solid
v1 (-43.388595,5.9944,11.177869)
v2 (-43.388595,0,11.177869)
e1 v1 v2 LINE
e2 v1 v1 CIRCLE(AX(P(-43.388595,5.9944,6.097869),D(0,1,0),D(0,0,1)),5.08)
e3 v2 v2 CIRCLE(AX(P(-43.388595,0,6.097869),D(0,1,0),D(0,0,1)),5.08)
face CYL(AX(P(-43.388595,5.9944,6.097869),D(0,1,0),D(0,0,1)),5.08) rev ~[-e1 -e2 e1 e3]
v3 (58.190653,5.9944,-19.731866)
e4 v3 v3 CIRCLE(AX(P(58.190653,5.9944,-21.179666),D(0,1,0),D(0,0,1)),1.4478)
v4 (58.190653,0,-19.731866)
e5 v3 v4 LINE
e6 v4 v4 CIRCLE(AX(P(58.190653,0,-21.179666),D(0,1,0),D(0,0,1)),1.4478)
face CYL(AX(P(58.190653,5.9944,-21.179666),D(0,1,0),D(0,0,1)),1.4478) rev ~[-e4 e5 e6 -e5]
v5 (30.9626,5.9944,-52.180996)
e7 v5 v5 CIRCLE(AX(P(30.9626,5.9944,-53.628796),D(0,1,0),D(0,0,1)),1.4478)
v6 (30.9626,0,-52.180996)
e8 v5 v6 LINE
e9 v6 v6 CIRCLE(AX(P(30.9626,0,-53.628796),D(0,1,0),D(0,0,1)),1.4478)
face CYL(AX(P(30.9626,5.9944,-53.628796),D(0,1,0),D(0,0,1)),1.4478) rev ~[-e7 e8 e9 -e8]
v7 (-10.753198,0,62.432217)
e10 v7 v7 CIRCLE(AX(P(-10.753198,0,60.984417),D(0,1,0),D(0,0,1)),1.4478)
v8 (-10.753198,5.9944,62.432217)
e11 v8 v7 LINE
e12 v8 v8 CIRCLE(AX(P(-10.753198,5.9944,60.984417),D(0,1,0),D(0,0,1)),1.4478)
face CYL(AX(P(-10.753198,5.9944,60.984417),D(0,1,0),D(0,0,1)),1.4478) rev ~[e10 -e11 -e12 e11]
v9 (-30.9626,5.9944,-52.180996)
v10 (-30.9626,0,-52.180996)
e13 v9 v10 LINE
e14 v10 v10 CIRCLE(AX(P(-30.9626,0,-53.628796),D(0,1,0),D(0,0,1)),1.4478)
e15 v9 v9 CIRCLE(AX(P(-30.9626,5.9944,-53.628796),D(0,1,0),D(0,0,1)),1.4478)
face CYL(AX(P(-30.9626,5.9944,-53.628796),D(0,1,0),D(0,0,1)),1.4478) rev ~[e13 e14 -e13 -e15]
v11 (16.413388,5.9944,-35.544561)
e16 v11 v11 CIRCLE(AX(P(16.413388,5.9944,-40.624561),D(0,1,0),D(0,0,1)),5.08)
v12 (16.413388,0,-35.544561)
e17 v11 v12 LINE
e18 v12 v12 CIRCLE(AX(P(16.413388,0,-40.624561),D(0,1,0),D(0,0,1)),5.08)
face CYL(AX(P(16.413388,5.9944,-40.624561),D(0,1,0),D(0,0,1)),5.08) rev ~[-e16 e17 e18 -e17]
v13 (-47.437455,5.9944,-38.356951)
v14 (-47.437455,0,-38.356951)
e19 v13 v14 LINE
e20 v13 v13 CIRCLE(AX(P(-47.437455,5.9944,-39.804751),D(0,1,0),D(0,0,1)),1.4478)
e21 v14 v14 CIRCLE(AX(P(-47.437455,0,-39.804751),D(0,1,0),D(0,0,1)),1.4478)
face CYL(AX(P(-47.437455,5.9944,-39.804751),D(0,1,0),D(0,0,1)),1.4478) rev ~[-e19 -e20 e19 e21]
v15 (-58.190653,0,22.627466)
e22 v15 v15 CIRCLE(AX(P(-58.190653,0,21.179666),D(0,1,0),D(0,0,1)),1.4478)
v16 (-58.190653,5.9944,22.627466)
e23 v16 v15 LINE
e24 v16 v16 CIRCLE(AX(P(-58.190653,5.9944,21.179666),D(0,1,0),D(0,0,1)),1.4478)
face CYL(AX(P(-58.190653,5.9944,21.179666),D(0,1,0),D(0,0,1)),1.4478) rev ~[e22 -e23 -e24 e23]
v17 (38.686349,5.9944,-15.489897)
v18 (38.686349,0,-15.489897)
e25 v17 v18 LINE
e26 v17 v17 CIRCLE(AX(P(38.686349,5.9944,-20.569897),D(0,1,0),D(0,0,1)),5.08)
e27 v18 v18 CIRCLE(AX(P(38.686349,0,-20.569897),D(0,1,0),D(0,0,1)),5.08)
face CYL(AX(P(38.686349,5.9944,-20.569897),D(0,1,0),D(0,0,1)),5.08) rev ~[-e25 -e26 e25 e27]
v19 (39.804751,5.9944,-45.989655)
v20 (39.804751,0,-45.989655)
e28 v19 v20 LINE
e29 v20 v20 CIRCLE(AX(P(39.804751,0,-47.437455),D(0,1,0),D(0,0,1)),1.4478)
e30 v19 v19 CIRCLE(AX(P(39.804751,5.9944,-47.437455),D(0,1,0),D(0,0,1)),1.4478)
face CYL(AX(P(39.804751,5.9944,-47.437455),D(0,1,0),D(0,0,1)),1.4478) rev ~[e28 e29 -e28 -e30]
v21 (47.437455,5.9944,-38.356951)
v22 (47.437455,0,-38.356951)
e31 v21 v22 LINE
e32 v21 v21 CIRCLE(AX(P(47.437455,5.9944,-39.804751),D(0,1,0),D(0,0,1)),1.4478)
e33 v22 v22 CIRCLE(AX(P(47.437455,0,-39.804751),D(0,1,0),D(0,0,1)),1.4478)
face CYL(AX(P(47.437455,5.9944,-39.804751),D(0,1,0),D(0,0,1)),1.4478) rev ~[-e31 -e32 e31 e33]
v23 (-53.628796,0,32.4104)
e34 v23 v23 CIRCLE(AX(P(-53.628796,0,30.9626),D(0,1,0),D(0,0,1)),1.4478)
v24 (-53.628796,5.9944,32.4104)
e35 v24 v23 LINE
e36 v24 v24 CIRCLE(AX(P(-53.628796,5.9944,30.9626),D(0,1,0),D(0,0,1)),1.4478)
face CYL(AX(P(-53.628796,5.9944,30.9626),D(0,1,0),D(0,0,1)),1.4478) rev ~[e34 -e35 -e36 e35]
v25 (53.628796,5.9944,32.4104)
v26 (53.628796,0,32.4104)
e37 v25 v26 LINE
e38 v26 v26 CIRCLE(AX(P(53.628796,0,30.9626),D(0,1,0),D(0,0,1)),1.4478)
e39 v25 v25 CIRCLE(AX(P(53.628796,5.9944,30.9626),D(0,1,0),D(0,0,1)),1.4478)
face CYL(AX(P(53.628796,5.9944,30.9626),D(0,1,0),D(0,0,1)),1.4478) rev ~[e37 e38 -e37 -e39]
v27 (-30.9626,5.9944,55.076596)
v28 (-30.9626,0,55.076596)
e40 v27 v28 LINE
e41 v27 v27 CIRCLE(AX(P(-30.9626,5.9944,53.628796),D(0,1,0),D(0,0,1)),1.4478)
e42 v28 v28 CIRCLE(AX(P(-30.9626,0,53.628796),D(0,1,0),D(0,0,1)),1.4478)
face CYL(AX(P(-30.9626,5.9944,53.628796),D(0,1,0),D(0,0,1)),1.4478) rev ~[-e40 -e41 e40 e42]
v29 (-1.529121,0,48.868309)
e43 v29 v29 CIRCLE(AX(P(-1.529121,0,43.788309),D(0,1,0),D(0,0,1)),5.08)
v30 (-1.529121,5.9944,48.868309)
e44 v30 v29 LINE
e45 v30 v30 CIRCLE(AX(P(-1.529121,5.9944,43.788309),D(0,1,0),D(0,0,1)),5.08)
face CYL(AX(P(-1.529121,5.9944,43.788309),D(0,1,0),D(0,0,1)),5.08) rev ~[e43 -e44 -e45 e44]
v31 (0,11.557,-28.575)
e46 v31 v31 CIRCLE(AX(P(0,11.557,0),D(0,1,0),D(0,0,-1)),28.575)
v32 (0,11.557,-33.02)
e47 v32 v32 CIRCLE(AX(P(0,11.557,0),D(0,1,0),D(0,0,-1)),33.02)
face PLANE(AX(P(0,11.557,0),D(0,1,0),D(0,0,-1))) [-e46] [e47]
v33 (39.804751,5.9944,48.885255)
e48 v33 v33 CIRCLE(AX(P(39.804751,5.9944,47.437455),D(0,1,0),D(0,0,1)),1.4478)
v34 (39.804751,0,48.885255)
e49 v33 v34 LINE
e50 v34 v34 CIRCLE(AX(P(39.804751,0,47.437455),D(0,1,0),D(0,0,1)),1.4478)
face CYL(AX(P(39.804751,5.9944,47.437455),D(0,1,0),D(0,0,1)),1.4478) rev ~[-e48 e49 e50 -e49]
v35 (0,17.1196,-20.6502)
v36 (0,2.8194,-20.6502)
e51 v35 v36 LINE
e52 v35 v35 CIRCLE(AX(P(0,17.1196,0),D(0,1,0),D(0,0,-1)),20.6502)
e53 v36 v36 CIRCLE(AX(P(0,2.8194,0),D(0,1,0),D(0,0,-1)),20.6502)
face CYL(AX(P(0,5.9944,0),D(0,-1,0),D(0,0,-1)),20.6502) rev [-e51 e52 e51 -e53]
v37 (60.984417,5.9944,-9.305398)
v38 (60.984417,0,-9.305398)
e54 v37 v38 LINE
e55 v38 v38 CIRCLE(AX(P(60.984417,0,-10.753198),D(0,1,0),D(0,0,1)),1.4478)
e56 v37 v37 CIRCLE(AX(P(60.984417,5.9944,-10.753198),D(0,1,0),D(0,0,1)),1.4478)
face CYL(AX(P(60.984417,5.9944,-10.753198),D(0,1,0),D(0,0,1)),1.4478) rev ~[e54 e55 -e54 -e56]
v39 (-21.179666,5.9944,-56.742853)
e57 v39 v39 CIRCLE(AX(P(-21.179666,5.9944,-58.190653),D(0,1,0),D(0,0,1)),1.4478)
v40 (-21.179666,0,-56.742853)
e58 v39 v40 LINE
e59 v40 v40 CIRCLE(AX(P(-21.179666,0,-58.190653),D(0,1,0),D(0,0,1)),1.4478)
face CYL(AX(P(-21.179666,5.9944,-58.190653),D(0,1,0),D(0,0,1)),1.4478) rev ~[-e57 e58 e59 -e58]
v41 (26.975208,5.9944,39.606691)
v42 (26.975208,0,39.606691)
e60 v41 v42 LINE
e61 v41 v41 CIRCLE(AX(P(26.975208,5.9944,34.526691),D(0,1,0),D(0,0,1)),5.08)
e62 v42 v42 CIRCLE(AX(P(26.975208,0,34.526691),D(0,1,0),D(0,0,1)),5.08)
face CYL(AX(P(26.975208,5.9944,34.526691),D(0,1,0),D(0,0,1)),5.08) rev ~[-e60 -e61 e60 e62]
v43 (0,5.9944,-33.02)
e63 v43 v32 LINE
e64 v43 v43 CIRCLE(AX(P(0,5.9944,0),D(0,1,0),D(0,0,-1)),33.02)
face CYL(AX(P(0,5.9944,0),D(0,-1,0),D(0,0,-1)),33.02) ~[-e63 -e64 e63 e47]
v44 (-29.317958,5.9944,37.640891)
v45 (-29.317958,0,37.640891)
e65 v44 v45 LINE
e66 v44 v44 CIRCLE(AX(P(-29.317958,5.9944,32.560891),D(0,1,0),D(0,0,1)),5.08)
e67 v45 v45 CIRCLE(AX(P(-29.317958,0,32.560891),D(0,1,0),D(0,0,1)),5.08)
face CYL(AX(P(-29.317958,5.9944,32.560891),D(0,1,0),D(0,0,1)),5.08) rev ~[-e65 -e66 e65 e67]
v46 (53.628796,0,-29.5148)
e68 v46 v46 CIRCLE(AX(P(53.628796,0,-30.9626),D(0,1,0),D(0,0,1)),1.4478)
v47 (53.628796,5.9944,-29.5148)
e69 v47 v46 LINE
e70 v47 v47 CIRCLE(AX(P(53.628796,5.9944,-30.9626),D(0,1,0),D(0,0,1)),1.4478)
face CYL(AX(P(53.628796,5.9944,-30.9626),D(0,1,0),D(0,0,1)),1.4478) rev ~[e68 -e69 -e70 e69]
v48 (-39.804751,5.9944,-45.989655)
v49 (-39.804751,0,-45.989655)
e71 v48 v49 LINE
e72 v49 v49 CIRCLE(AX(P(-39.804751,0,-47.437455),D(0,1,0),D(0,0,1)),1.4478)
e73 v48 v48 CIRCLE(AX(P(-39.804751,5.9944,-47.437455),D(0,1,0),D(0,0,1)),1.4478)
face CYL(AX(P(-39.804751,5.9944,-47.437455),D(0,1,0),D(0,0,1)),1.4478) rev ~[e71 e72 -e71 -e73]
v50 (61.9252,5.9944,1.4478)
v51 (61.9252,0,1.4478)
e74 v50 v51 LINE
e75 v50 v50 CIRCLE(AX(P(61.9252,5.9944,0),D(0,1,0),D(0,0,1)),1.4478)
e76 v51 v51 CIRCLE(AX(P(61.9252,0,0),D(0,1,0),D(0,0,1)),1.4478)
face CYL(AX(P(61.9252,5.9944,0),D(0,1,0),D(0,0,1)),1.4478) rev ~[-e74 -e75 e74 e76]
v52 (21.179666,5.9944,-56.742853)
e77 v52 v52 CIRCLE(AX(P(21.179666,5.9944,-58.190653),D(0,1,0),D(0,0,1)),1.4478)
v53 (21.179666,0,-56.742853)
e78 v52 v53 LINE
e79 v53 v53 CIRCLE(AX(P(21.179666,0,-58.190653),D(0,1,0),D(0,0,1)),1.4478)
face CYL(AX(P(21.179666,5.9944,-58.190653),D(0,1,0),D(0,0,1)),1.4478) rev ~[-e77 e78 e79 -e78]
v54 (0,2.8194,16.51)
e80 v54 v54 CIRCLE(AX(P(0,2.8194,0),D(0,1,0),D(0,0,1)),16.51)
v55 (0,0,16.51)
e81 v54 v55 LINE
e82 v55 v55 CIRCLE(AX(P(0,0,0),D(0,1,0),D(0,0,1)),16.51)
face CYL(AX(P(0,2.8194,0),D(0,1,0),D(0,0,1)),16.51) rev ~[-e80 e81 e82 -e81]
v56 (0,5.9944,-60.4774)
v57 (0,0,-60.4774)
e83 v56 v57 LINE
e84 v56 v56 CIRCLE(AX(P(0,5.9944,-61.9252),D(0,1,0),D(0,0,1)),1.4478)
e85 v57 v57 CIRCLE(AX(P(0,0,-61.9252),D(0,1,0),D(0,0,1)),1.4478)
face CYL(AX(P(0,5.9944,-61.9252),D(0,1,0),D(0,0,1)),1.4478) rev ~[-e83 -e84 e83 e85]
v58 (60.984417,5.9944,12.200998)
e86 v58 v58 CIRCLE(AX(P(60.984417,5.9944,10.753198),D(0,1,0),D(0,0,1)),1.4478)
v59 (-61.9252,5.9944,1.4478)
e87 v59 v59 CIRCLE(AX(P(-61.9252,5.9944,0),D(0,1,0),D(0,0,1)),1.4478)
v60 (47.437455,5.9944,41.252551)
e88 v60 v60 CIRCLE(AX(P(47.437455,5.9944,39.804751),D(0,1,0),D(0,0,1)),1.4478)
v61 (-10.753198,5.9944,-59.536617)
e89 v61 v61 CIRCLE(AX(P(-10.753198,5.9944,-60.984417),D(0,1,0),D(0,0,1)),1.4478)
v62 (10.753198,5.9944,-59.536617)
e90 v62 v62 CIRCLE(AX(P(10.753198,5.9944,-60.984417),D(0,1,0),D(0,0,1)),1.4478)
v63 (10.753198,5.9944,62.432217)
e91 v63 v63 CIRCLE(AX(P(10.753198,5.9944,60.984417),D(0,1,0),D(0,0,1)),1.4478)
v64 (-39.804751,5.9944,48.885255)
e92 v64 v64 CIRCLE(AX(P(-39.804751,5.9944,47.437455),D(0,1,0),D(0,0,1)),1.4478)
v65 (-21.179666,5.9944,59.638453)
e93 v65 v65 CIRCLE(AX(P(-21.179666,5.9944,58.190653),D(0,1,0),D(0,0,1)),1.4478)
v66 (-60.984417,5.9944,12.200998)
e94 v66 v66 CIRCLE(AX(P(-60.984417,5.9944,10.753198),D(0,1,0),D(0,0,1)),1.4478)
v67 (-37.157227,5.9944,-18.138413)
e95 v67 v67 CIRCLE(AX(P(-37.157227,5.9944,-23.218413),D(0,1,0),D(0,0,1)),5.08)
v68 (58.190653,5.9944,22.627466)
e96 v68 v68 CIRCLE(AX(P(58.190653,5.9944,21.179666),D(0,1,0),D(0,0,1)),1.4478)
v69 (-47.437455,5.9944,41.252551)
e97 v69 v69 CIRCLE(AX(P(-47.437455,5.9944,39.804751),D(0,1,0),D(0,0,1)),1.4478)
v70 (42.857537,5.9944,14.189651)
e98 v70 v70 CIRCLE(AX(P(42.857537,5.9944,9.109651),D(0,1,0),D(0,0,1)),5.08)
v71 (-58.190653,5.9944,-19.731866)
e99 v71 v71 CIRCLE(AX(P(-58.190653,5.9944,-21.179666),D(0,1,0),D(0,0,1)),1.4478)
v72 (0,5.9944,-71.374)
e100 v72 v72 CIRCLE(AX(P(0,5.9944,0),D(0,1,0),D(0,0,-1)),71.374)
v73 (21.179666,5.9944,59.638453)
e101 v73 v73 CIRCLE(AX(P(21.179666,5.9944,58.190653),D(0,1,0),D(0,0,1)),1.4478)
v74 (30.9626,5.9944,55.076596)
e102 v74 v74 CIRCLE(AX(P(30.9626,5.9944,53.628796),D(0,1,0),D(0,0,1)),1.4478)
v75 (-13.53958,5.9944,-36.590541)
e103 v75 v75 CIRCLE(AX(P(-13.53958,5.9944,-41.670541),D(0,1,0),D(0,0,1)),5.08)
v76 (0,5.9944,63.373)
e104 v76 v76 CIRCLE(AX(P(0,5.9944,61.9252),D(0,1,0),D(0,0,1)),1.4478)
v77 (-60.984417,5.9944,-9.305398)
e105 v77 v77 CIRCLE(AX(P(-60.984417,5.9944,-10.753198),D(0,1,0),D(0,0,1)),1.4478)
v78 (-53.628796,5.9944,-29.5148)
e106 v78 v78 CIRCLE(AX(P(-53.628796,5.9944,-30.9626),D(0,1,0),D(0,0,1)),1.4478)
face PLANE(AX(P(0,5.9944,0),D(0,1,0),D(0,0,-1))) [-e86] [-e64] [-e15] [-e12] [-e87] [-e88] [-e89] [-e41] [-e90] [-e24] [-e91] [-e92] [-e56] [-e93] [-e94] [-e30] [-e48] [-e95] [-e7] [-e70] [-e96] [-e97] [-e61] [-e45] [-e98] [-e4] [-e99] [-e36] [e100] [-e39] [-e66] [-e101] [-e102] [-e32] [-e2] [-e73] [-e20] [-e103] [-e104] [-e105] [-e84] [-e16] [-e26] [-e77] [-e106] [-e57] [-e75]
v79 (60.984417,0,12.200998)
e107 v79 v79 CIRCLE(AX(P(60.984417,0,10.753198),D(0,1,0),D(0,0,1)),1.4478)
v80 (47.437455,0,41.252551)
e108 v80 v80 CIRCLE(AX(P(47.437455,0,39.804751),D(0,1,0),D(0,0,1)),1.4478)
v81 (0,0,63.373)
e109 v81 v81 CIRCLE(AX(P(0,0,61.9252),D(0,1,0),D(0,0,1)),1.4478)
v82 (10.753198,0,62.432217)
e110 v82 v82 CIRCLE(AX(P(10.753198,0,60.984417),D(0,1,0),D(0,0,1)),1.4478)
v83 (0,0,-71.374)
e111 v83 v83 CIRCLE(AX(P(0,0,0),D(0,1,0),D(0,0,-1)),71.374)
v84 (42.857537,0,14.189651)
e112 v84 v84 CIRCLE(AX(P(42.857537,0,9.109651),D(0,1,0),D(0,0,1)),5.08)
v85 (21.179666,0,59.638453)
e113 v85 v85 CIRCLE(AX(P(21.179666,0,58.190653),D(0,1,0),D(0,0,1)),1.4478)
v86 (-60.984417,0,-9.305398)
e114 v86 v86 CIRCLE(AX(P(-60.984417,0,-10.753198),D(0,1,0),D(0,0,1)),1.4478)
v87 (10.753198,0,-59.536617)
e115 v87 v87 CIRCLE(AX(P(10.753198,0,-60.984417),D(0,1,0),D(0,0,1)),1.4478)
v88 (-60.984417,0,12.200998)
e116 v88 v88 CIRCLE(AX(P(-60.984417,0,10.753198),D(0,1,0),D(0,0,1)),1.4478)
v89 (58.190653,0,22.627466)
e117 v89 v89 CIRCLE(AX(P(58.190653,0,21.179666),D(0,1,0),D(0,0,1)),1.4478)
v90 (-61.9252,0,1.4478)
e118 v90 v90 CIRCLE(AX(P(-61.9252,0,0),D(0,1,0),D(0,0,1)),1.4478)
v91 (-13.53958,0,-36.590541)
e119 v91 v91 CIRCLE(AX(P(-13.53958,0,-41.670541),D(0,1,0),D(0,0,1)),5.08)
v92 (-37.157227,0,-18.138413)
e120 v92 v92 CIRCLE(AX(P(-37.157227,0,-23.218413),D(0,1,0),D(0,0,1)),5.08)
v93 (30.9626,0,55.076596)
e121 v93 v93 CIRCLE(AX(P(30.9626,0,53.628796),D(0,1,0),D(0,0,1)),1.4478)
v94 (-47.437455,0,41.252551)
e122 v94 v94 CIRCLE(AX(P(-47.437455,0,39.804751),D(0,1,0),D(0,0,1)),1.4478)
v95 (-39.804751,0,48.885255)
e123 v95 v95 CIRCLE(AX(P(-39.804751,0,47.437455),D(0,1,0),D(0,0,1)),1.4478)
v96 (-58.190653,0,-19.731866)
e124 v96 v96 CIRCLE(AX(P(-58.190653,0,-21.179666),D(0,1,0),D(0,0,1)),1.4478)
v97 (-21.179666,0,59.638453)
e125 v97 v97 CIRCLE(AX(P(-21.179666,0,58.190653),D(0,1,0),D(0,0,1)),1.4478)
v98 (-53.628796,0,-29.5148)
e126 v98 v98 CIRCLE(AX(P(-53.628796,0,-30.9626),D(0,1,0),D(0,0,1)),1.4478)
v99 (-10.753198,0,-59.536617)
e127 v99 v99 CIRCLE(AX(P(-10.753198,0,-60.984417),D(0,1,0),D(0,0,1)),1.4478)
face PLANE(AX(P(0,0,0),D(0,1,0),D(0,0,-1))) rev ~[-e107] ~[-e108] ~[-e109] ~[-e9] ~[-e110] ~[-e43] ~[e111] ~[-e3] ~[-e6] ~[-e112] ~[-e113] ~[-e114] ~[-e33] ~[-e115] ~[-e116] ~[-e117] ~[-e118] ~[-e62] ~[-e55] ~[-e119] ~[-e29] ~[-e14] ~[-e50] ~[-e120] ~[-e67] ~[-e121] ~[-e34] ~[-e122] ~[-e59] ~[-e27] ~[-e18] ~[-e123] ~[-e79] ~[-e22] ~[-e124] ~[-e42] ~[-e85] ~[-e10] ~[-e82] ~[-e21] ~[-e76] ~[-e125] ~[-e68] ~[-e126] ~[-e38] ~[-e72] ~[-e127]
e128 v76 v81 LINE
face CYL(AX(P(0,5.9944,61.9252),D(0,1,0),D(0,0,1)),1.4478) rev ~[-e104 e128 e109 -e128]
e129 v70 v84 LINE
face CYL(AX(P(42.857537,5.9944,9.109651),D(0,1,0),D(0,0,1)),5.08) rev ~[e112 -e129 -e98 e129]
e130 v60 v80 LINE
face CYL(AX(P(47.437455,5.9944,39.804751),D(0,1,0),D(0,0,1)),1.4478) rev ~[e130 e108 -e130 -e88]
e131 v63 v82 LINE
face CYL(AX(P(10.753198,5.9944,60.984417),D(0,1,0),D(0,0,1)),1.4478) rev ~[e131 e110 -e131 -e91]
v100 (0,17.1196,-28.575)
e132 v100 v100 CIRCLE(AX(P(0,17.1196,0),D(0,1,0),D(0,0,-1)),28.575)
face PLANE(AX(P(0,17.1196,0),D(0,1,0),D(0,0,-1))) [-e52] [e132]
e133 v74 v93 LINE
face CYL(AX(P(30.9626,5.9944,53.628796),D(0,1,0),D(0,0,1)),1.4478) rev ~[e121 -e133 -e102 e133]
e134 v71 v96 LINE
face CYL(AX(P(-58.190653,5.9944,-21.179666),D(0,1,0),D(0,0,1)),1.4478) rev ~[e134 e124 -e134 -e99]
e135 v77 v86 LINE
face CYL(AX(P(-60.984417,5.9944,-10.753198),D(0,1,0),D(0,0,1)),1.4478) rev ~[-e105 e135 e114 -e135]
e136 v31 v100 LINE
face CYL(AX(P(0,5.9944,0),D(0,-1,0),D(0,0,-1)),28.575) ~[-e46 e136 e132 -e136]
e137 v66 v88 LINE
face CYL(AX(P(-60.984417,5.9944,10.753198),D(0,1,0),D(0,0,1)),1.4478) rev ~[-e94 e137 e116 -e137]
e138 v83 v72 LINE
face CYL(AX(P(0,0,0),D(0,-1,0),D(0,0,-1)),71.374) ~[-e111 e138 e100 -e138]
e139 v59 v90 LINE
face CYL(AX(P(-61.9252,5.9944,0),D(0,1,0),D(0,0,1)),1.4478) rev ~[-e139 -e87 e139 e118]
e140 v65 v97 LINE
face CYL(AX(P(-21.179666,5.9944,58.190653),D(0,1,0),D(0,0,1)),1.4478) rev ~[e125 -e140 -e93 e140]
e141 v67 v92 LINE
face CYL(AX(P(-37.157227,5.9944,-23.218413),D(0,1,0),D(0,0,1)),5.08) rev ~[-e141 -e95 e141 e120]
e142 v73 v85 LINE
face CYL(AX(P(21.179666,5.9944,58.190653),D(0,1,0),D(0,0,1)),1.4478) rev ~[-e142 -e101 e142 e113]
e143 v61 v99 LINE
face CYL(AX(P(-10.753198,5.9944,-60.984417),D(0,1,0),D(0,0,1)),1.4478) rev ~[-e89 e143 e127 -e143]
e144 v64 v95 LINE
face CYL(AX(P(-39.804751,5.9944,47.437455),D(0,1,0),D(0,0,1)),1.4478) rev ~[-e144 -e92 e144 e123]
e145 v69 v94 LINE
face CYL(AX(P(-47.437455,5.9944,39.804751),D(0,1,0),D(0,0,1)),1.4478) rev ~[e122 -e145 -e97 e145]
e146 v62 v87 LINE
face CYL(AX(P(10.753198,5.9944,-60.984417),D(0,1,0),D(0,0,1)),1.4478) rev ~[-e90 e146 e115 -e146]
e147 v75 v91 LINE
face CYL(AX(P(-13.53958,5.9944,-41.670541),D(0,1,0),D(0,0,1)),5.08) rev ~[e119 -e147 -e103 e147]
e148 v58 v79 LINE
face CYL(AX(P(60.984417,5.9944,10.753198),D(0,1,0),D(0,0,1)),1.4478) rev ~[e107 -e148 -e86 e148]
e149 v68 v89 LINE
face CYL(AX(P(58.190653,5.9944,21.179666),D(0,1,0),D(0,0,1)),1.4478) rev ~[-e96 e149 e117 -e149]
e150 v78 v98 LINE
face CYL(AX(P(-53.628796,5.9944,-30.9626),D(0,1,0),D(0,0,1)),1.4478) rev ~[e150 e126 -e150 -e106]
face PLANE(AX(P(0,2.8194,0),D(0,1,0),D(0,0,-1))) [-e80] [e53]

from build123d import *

# Parameters (mm, degrees)
SKETCH1_R           = 71.374
BOSS_EXTRUDE1_DEPTH = 5.9944
SKETCH2_R           = 28.575
SKETCH2_R_2         = 20.6502
BOSS_EXTRUDE2_DEPTH = 11.1252
CUT_EXTRUDE2_START  = -3.175
SKETCH3_R           = 20.6502
CUT_EXTRUDE2_DEPTH  = 3.175
SKETCH4_R           = 16.51
CUT_EXTRUDE3_DEPTH  = 102.946022345
SKETCH5_R           = 5.08
CUT_EXTRUDE4_DEPTH  = 102.549327063
SKETCH7_R           = 33.02
SKETCH7_R_2         = 28.575
BOSS_EXTRUDE3_DEPTH = 5.5626
SKETCH8_R           = 1.4478
CUT_EXTRUDE7_DEPTH  = 102.549327063
SKETCH9_R           = 5.08
CUT_EXTRUDE8_DEPTH  = 102.549327063


with BuildPart() as part:
    # Sketch1 → Boss-Extrude1 (new body)
    with BuildSketch(Plane(origin=(0, 0, 0), x_dir=(1, 0, 0), z_dir=(0, 1, 0))):
        with Locations(Location((0, 0, 0), (0, 0, 90))):
            Circle(SKETCH1_R)
    extrude(amount=BOSS_EXTRUDE1_DEPTH)

    # Sketch2 → Boss-Extrude2 (add)
    with BuildSketch(Plane(origin=(0, 5.9944, 0), x_dir=(1, 0, 0), z_dir=(0, 1, 0))):
        with Locations(Location((0, 0, 0), (0, 0, 90))):
            Circle(SKETCH2_R)
        with Locations(Location((0, 0, 0), (0, 0, 90))):
            Circle(SKETCH2_R_2, mode=Mode.SUBTRACT)
    extrude(amount=BOSS_EXTRUDE2_DEPTH)

    # Sketch3 → Cut-Extrude2 (cut)
    with BuildSketch(Plane(origin=(0, 5.9944, 0), x_dir=(1, 0, 0), z_dir=(0, 1, 0)).offset(CUT_EXTRUDE2_START)):
        with Locations(Location((0, 0, 0), (0, 0, 90))):
            Circle(SKETCH3_R)
    extrude(amount=CUT_EXTRUDE2_DEPTH, mode=Mode.SUBTRACT)

    # Sketch4 → Cut-Extrude3 (cut, through all)
    with BuildSketch(Plane(origin=(0, 2.8194, 0), x_dir=(1, 0, 0), z_dir=(0, 1, 0))):
        with Locations(Location((0, 0, 0), (0, 0, 270))):
            Circle(SKETCH4_R)
    extrude(amount=-CUT_EXTRUDE3_DEPTH, mode=Mode.SUBTRACT)

    # Sketch5 → Cut-Extrude4 (cut, through all)
    with BuildSketch(Plane(origin=(0, 5.9944, 0), x_dir=(1, 0, 0), z_dir=(0, 1, 0))):
        with Locations(Location((16.413387891, 40.624560588, 0), (0, 0, 270))):
            Circle(SKETCH5_R)
        with Locations(Location((26.975207541, -34.526691169, 0), (0, 0, 270))):
            Circle(SKETCH5_R)
        with Locations(Location((-1.529121448, -43.788309086, 0), (0, 0, 270))):
            Circle(SKETCH5_R)
        with Locations(Location((-29.317957518, -32.560890528, 0), (0, 0, 270))):
            Circle(SKETCH5_R)
        with Locations(Location((-43.388595432, -6.097869419, 0), (0, 0, 270))):
            Circle(SKETCH5_R)
        with Locations(Location((-37.157227333, 23.218412562, 0), (0, 0, 270))):
            Circle(SKETCH5_R)
        with Locations(Location((-13.539579609, 41.670541261, 0), (0, 0, 270))):
            Circle(SKETCH5_R)
    extrude(amount=-CUT_EXTRUDE4_DEPTH, mode=Mode.SUBTRACT)

    # Sketch7 → Boss-Extrude3 (add)
    with BuildSketch(Plane(origin=(0, 5.9944, 0), x_dir=(1, 0, 0), z_dir=(0, 1, 0))):
        with Locations(Location((0, 0, 0), (0, 0, 90))):
            Circle(SKETCH7_R)
        with Locations(Location((0, 0, 0), (0, 0, 90))):
            Circle(SKETCH7_R_2, mode=Mode.SUBTRACT)
    extrude(amount=BOSS_EXTRUDE3_DEPTH)

    # Sketch8 → Cut-Extrude7 (cut, through all)
    with BuildSketch(Plane(origin=(0, 5.9944, 0), x_dir=(1, 0, 0), z_dir=(0, 1, 0))):
        with Locations(Location((-53.628796334, 30.9626, 0), (0, 0, 270))):
            Circle(SKETCH8_R)
        with Locations(Location((-47.437455349, 39.804751287, 0), (0, 0, 270))):
            Circle(SKETCH8_R)
        with Locations(Location((-39.804751287, 47.437455349, 0), (0, 0, 270))):
            Circle(SKETCH8_R)
        with Locations(Location((-30.9626, 53.628796334, 0), (0, 0, 270))):
            Circle(SKETCH8_R)
        with Locations(Location((-21.179665779, 58.190653481, 0), (0, 0, 270))):
            Circle(SKETCH8_R)
        with Locations(Location((-10.753198132, 60.984417067, 0), (0, 0, 270))):
            Circle(SKETCH8_R)
        with Locations(Location((0, 61.9252, 0), (0, 0, 270))):
            Circle(SKETCH8_R)
        with Locations(Location((10.753198132, 60.984417067, 0), (0, 0, 270))):
            Circle(SKETCH8_R)
        with Locations(Location((21.179665779, 58.190653481, 0), (0, 0, 270))):
            Circle(SKETCH8_R)
        with Locations(Location((30.9626, 53.628796334, 0), (0, 0, 270))):
            Circle(SKETCH8_R)
        with Locations(Location((39.804751287, 47.437455349, 0), (0, 0, 270))):
            Circle(SKETCH8_R)
        with Locations(Location((47.437455349, 39.804751287, 0), (0, 0, 270))):
            Circle(SKETCH8_R)
        with Locations(Location((53.628796334, 30.9626, 0), (0, 0, 270))):
            Circle(SKETCH8_R)
        with Locations(Location((58.190653481, 21.179665779, 0), (0, 0, 270))):
            Circle(SKETCH8_R)
        with Locations(Location((60.984417067, 10.753198132, 0), (0, 0, 270))):
            Circle(SKETCH8_R)
        with Locations(Location((61.9252, 0, 0), (0, 0, 270))):
            Circle(SKETCH8_R)
        with Locations(Location((60.984417067, -10.753198132, 0), (0, 0, 270))):
            Circle(SKETCH8_R)
        with Locations(Location((58.190653481, -21.179665779, 0), (0, 0, 270))):
            Circle(SKETCH8_R)
        with Locations(Location((53.628796334, -30.9626, 0), (0, 0, 270))):
            Circle(SKETCH8_R)
        with Locations(Location((47.437455349, -39.804751287, 0), (0, 0, 270))):
            Circle(SKETCH8_R)
        with Locations(Location((39.804751287, -47.437455349, 0), (0, 0, 270))):
            Circle(SKETCH8_R)
        with Locations(Location((30.9626, -53.628796334, 0), (0, 0, 270))):
            Circle(SKETCH8_R)
        with Locations(Location((21.179665779, -58.190653481, 0), (0, 0, 270))):
            Circle(SKETCH8_R)
        with Locations(Location((10.753198132, -60.984417067, 0), (0, 0, 270))):
            Circle(SKETCH8_R)
        with Locations(Location((0, -61.9252, 0), (0, 0, 270))):
            Circle(SKETCH8_R)
        with Locations(Location((-10.753198132, -60.984417067, 0), (0, 0, 270))):
            Circle(SKETCH8_R)
        with Locations(Location((-21.179665779, -58.190653481, 0), (0, 0, 270))):
            Circle(SKETCH8_R)
        with Locations(Location((-30.9626, -53.628796334, 0), (0, 0, 270))):
            Circle(SKETCH8_R)
        with Locations(Location((-39.804751287, -47.437455349, 0), (0, 0, 270))):
            Circle(SKETCH8_R)
        with Locations(Location((-47.437455349, -39.804751287, 0), (0, 0, 270))):
            Circle(SKETCH8_R)
        with Locations(Location((-53.628796334, -30.9626, 0), (0, 0, 270))):
            Circle(SKETCH8_R)
        with Locations(Location((-58.190653481, -21.179665779, 0), (0, 0, 270))):
            Circle(SKETCH8_R)
        with Locations(Location((-60.984417067, -10.753198132, 0), (0, 0, 270))):
            Circle(SKETCH8_R)
        with Locations(Location((-61.9252, 0, 0), (0, 0, 270))):
            Circle(SKETCH8_R)
        with Locations(Location((-60.984417067, 10.753198132, 0), (0, 0, 270))):
            Circle(SKETCH8_R)
        with Locations(Location((-58.190653481, 21.179665779, 0), (0, 0, 270))):
            Circle(SKETCH8_R)
    extrude(amount=-CUT_EXTRUDE7_DEPTH, mode=Mode.SUBTRACT)

    # Sketch9 → Cut-Extrude8 (cut, through all)
    with BuildSketch(Plane(origin=(0, 5.9944, 0), x_dir=(1, 0, 0), z_dir=(0, 1, 0))):
        with Locations(Location((38.686348781, 20.569896523, 0), (0, 0, 270))):
            Circle(SKETCH9_R)
        with Locations(Location((42.857537126, -9.109650733, 0), (0, 0, 270))):
            Circle(SKETCH9_R)
    extrude(amount=-CUT_EXTRUDE8_DEPTH, mode=Mode.SUBTRACT)


solid = part.part
